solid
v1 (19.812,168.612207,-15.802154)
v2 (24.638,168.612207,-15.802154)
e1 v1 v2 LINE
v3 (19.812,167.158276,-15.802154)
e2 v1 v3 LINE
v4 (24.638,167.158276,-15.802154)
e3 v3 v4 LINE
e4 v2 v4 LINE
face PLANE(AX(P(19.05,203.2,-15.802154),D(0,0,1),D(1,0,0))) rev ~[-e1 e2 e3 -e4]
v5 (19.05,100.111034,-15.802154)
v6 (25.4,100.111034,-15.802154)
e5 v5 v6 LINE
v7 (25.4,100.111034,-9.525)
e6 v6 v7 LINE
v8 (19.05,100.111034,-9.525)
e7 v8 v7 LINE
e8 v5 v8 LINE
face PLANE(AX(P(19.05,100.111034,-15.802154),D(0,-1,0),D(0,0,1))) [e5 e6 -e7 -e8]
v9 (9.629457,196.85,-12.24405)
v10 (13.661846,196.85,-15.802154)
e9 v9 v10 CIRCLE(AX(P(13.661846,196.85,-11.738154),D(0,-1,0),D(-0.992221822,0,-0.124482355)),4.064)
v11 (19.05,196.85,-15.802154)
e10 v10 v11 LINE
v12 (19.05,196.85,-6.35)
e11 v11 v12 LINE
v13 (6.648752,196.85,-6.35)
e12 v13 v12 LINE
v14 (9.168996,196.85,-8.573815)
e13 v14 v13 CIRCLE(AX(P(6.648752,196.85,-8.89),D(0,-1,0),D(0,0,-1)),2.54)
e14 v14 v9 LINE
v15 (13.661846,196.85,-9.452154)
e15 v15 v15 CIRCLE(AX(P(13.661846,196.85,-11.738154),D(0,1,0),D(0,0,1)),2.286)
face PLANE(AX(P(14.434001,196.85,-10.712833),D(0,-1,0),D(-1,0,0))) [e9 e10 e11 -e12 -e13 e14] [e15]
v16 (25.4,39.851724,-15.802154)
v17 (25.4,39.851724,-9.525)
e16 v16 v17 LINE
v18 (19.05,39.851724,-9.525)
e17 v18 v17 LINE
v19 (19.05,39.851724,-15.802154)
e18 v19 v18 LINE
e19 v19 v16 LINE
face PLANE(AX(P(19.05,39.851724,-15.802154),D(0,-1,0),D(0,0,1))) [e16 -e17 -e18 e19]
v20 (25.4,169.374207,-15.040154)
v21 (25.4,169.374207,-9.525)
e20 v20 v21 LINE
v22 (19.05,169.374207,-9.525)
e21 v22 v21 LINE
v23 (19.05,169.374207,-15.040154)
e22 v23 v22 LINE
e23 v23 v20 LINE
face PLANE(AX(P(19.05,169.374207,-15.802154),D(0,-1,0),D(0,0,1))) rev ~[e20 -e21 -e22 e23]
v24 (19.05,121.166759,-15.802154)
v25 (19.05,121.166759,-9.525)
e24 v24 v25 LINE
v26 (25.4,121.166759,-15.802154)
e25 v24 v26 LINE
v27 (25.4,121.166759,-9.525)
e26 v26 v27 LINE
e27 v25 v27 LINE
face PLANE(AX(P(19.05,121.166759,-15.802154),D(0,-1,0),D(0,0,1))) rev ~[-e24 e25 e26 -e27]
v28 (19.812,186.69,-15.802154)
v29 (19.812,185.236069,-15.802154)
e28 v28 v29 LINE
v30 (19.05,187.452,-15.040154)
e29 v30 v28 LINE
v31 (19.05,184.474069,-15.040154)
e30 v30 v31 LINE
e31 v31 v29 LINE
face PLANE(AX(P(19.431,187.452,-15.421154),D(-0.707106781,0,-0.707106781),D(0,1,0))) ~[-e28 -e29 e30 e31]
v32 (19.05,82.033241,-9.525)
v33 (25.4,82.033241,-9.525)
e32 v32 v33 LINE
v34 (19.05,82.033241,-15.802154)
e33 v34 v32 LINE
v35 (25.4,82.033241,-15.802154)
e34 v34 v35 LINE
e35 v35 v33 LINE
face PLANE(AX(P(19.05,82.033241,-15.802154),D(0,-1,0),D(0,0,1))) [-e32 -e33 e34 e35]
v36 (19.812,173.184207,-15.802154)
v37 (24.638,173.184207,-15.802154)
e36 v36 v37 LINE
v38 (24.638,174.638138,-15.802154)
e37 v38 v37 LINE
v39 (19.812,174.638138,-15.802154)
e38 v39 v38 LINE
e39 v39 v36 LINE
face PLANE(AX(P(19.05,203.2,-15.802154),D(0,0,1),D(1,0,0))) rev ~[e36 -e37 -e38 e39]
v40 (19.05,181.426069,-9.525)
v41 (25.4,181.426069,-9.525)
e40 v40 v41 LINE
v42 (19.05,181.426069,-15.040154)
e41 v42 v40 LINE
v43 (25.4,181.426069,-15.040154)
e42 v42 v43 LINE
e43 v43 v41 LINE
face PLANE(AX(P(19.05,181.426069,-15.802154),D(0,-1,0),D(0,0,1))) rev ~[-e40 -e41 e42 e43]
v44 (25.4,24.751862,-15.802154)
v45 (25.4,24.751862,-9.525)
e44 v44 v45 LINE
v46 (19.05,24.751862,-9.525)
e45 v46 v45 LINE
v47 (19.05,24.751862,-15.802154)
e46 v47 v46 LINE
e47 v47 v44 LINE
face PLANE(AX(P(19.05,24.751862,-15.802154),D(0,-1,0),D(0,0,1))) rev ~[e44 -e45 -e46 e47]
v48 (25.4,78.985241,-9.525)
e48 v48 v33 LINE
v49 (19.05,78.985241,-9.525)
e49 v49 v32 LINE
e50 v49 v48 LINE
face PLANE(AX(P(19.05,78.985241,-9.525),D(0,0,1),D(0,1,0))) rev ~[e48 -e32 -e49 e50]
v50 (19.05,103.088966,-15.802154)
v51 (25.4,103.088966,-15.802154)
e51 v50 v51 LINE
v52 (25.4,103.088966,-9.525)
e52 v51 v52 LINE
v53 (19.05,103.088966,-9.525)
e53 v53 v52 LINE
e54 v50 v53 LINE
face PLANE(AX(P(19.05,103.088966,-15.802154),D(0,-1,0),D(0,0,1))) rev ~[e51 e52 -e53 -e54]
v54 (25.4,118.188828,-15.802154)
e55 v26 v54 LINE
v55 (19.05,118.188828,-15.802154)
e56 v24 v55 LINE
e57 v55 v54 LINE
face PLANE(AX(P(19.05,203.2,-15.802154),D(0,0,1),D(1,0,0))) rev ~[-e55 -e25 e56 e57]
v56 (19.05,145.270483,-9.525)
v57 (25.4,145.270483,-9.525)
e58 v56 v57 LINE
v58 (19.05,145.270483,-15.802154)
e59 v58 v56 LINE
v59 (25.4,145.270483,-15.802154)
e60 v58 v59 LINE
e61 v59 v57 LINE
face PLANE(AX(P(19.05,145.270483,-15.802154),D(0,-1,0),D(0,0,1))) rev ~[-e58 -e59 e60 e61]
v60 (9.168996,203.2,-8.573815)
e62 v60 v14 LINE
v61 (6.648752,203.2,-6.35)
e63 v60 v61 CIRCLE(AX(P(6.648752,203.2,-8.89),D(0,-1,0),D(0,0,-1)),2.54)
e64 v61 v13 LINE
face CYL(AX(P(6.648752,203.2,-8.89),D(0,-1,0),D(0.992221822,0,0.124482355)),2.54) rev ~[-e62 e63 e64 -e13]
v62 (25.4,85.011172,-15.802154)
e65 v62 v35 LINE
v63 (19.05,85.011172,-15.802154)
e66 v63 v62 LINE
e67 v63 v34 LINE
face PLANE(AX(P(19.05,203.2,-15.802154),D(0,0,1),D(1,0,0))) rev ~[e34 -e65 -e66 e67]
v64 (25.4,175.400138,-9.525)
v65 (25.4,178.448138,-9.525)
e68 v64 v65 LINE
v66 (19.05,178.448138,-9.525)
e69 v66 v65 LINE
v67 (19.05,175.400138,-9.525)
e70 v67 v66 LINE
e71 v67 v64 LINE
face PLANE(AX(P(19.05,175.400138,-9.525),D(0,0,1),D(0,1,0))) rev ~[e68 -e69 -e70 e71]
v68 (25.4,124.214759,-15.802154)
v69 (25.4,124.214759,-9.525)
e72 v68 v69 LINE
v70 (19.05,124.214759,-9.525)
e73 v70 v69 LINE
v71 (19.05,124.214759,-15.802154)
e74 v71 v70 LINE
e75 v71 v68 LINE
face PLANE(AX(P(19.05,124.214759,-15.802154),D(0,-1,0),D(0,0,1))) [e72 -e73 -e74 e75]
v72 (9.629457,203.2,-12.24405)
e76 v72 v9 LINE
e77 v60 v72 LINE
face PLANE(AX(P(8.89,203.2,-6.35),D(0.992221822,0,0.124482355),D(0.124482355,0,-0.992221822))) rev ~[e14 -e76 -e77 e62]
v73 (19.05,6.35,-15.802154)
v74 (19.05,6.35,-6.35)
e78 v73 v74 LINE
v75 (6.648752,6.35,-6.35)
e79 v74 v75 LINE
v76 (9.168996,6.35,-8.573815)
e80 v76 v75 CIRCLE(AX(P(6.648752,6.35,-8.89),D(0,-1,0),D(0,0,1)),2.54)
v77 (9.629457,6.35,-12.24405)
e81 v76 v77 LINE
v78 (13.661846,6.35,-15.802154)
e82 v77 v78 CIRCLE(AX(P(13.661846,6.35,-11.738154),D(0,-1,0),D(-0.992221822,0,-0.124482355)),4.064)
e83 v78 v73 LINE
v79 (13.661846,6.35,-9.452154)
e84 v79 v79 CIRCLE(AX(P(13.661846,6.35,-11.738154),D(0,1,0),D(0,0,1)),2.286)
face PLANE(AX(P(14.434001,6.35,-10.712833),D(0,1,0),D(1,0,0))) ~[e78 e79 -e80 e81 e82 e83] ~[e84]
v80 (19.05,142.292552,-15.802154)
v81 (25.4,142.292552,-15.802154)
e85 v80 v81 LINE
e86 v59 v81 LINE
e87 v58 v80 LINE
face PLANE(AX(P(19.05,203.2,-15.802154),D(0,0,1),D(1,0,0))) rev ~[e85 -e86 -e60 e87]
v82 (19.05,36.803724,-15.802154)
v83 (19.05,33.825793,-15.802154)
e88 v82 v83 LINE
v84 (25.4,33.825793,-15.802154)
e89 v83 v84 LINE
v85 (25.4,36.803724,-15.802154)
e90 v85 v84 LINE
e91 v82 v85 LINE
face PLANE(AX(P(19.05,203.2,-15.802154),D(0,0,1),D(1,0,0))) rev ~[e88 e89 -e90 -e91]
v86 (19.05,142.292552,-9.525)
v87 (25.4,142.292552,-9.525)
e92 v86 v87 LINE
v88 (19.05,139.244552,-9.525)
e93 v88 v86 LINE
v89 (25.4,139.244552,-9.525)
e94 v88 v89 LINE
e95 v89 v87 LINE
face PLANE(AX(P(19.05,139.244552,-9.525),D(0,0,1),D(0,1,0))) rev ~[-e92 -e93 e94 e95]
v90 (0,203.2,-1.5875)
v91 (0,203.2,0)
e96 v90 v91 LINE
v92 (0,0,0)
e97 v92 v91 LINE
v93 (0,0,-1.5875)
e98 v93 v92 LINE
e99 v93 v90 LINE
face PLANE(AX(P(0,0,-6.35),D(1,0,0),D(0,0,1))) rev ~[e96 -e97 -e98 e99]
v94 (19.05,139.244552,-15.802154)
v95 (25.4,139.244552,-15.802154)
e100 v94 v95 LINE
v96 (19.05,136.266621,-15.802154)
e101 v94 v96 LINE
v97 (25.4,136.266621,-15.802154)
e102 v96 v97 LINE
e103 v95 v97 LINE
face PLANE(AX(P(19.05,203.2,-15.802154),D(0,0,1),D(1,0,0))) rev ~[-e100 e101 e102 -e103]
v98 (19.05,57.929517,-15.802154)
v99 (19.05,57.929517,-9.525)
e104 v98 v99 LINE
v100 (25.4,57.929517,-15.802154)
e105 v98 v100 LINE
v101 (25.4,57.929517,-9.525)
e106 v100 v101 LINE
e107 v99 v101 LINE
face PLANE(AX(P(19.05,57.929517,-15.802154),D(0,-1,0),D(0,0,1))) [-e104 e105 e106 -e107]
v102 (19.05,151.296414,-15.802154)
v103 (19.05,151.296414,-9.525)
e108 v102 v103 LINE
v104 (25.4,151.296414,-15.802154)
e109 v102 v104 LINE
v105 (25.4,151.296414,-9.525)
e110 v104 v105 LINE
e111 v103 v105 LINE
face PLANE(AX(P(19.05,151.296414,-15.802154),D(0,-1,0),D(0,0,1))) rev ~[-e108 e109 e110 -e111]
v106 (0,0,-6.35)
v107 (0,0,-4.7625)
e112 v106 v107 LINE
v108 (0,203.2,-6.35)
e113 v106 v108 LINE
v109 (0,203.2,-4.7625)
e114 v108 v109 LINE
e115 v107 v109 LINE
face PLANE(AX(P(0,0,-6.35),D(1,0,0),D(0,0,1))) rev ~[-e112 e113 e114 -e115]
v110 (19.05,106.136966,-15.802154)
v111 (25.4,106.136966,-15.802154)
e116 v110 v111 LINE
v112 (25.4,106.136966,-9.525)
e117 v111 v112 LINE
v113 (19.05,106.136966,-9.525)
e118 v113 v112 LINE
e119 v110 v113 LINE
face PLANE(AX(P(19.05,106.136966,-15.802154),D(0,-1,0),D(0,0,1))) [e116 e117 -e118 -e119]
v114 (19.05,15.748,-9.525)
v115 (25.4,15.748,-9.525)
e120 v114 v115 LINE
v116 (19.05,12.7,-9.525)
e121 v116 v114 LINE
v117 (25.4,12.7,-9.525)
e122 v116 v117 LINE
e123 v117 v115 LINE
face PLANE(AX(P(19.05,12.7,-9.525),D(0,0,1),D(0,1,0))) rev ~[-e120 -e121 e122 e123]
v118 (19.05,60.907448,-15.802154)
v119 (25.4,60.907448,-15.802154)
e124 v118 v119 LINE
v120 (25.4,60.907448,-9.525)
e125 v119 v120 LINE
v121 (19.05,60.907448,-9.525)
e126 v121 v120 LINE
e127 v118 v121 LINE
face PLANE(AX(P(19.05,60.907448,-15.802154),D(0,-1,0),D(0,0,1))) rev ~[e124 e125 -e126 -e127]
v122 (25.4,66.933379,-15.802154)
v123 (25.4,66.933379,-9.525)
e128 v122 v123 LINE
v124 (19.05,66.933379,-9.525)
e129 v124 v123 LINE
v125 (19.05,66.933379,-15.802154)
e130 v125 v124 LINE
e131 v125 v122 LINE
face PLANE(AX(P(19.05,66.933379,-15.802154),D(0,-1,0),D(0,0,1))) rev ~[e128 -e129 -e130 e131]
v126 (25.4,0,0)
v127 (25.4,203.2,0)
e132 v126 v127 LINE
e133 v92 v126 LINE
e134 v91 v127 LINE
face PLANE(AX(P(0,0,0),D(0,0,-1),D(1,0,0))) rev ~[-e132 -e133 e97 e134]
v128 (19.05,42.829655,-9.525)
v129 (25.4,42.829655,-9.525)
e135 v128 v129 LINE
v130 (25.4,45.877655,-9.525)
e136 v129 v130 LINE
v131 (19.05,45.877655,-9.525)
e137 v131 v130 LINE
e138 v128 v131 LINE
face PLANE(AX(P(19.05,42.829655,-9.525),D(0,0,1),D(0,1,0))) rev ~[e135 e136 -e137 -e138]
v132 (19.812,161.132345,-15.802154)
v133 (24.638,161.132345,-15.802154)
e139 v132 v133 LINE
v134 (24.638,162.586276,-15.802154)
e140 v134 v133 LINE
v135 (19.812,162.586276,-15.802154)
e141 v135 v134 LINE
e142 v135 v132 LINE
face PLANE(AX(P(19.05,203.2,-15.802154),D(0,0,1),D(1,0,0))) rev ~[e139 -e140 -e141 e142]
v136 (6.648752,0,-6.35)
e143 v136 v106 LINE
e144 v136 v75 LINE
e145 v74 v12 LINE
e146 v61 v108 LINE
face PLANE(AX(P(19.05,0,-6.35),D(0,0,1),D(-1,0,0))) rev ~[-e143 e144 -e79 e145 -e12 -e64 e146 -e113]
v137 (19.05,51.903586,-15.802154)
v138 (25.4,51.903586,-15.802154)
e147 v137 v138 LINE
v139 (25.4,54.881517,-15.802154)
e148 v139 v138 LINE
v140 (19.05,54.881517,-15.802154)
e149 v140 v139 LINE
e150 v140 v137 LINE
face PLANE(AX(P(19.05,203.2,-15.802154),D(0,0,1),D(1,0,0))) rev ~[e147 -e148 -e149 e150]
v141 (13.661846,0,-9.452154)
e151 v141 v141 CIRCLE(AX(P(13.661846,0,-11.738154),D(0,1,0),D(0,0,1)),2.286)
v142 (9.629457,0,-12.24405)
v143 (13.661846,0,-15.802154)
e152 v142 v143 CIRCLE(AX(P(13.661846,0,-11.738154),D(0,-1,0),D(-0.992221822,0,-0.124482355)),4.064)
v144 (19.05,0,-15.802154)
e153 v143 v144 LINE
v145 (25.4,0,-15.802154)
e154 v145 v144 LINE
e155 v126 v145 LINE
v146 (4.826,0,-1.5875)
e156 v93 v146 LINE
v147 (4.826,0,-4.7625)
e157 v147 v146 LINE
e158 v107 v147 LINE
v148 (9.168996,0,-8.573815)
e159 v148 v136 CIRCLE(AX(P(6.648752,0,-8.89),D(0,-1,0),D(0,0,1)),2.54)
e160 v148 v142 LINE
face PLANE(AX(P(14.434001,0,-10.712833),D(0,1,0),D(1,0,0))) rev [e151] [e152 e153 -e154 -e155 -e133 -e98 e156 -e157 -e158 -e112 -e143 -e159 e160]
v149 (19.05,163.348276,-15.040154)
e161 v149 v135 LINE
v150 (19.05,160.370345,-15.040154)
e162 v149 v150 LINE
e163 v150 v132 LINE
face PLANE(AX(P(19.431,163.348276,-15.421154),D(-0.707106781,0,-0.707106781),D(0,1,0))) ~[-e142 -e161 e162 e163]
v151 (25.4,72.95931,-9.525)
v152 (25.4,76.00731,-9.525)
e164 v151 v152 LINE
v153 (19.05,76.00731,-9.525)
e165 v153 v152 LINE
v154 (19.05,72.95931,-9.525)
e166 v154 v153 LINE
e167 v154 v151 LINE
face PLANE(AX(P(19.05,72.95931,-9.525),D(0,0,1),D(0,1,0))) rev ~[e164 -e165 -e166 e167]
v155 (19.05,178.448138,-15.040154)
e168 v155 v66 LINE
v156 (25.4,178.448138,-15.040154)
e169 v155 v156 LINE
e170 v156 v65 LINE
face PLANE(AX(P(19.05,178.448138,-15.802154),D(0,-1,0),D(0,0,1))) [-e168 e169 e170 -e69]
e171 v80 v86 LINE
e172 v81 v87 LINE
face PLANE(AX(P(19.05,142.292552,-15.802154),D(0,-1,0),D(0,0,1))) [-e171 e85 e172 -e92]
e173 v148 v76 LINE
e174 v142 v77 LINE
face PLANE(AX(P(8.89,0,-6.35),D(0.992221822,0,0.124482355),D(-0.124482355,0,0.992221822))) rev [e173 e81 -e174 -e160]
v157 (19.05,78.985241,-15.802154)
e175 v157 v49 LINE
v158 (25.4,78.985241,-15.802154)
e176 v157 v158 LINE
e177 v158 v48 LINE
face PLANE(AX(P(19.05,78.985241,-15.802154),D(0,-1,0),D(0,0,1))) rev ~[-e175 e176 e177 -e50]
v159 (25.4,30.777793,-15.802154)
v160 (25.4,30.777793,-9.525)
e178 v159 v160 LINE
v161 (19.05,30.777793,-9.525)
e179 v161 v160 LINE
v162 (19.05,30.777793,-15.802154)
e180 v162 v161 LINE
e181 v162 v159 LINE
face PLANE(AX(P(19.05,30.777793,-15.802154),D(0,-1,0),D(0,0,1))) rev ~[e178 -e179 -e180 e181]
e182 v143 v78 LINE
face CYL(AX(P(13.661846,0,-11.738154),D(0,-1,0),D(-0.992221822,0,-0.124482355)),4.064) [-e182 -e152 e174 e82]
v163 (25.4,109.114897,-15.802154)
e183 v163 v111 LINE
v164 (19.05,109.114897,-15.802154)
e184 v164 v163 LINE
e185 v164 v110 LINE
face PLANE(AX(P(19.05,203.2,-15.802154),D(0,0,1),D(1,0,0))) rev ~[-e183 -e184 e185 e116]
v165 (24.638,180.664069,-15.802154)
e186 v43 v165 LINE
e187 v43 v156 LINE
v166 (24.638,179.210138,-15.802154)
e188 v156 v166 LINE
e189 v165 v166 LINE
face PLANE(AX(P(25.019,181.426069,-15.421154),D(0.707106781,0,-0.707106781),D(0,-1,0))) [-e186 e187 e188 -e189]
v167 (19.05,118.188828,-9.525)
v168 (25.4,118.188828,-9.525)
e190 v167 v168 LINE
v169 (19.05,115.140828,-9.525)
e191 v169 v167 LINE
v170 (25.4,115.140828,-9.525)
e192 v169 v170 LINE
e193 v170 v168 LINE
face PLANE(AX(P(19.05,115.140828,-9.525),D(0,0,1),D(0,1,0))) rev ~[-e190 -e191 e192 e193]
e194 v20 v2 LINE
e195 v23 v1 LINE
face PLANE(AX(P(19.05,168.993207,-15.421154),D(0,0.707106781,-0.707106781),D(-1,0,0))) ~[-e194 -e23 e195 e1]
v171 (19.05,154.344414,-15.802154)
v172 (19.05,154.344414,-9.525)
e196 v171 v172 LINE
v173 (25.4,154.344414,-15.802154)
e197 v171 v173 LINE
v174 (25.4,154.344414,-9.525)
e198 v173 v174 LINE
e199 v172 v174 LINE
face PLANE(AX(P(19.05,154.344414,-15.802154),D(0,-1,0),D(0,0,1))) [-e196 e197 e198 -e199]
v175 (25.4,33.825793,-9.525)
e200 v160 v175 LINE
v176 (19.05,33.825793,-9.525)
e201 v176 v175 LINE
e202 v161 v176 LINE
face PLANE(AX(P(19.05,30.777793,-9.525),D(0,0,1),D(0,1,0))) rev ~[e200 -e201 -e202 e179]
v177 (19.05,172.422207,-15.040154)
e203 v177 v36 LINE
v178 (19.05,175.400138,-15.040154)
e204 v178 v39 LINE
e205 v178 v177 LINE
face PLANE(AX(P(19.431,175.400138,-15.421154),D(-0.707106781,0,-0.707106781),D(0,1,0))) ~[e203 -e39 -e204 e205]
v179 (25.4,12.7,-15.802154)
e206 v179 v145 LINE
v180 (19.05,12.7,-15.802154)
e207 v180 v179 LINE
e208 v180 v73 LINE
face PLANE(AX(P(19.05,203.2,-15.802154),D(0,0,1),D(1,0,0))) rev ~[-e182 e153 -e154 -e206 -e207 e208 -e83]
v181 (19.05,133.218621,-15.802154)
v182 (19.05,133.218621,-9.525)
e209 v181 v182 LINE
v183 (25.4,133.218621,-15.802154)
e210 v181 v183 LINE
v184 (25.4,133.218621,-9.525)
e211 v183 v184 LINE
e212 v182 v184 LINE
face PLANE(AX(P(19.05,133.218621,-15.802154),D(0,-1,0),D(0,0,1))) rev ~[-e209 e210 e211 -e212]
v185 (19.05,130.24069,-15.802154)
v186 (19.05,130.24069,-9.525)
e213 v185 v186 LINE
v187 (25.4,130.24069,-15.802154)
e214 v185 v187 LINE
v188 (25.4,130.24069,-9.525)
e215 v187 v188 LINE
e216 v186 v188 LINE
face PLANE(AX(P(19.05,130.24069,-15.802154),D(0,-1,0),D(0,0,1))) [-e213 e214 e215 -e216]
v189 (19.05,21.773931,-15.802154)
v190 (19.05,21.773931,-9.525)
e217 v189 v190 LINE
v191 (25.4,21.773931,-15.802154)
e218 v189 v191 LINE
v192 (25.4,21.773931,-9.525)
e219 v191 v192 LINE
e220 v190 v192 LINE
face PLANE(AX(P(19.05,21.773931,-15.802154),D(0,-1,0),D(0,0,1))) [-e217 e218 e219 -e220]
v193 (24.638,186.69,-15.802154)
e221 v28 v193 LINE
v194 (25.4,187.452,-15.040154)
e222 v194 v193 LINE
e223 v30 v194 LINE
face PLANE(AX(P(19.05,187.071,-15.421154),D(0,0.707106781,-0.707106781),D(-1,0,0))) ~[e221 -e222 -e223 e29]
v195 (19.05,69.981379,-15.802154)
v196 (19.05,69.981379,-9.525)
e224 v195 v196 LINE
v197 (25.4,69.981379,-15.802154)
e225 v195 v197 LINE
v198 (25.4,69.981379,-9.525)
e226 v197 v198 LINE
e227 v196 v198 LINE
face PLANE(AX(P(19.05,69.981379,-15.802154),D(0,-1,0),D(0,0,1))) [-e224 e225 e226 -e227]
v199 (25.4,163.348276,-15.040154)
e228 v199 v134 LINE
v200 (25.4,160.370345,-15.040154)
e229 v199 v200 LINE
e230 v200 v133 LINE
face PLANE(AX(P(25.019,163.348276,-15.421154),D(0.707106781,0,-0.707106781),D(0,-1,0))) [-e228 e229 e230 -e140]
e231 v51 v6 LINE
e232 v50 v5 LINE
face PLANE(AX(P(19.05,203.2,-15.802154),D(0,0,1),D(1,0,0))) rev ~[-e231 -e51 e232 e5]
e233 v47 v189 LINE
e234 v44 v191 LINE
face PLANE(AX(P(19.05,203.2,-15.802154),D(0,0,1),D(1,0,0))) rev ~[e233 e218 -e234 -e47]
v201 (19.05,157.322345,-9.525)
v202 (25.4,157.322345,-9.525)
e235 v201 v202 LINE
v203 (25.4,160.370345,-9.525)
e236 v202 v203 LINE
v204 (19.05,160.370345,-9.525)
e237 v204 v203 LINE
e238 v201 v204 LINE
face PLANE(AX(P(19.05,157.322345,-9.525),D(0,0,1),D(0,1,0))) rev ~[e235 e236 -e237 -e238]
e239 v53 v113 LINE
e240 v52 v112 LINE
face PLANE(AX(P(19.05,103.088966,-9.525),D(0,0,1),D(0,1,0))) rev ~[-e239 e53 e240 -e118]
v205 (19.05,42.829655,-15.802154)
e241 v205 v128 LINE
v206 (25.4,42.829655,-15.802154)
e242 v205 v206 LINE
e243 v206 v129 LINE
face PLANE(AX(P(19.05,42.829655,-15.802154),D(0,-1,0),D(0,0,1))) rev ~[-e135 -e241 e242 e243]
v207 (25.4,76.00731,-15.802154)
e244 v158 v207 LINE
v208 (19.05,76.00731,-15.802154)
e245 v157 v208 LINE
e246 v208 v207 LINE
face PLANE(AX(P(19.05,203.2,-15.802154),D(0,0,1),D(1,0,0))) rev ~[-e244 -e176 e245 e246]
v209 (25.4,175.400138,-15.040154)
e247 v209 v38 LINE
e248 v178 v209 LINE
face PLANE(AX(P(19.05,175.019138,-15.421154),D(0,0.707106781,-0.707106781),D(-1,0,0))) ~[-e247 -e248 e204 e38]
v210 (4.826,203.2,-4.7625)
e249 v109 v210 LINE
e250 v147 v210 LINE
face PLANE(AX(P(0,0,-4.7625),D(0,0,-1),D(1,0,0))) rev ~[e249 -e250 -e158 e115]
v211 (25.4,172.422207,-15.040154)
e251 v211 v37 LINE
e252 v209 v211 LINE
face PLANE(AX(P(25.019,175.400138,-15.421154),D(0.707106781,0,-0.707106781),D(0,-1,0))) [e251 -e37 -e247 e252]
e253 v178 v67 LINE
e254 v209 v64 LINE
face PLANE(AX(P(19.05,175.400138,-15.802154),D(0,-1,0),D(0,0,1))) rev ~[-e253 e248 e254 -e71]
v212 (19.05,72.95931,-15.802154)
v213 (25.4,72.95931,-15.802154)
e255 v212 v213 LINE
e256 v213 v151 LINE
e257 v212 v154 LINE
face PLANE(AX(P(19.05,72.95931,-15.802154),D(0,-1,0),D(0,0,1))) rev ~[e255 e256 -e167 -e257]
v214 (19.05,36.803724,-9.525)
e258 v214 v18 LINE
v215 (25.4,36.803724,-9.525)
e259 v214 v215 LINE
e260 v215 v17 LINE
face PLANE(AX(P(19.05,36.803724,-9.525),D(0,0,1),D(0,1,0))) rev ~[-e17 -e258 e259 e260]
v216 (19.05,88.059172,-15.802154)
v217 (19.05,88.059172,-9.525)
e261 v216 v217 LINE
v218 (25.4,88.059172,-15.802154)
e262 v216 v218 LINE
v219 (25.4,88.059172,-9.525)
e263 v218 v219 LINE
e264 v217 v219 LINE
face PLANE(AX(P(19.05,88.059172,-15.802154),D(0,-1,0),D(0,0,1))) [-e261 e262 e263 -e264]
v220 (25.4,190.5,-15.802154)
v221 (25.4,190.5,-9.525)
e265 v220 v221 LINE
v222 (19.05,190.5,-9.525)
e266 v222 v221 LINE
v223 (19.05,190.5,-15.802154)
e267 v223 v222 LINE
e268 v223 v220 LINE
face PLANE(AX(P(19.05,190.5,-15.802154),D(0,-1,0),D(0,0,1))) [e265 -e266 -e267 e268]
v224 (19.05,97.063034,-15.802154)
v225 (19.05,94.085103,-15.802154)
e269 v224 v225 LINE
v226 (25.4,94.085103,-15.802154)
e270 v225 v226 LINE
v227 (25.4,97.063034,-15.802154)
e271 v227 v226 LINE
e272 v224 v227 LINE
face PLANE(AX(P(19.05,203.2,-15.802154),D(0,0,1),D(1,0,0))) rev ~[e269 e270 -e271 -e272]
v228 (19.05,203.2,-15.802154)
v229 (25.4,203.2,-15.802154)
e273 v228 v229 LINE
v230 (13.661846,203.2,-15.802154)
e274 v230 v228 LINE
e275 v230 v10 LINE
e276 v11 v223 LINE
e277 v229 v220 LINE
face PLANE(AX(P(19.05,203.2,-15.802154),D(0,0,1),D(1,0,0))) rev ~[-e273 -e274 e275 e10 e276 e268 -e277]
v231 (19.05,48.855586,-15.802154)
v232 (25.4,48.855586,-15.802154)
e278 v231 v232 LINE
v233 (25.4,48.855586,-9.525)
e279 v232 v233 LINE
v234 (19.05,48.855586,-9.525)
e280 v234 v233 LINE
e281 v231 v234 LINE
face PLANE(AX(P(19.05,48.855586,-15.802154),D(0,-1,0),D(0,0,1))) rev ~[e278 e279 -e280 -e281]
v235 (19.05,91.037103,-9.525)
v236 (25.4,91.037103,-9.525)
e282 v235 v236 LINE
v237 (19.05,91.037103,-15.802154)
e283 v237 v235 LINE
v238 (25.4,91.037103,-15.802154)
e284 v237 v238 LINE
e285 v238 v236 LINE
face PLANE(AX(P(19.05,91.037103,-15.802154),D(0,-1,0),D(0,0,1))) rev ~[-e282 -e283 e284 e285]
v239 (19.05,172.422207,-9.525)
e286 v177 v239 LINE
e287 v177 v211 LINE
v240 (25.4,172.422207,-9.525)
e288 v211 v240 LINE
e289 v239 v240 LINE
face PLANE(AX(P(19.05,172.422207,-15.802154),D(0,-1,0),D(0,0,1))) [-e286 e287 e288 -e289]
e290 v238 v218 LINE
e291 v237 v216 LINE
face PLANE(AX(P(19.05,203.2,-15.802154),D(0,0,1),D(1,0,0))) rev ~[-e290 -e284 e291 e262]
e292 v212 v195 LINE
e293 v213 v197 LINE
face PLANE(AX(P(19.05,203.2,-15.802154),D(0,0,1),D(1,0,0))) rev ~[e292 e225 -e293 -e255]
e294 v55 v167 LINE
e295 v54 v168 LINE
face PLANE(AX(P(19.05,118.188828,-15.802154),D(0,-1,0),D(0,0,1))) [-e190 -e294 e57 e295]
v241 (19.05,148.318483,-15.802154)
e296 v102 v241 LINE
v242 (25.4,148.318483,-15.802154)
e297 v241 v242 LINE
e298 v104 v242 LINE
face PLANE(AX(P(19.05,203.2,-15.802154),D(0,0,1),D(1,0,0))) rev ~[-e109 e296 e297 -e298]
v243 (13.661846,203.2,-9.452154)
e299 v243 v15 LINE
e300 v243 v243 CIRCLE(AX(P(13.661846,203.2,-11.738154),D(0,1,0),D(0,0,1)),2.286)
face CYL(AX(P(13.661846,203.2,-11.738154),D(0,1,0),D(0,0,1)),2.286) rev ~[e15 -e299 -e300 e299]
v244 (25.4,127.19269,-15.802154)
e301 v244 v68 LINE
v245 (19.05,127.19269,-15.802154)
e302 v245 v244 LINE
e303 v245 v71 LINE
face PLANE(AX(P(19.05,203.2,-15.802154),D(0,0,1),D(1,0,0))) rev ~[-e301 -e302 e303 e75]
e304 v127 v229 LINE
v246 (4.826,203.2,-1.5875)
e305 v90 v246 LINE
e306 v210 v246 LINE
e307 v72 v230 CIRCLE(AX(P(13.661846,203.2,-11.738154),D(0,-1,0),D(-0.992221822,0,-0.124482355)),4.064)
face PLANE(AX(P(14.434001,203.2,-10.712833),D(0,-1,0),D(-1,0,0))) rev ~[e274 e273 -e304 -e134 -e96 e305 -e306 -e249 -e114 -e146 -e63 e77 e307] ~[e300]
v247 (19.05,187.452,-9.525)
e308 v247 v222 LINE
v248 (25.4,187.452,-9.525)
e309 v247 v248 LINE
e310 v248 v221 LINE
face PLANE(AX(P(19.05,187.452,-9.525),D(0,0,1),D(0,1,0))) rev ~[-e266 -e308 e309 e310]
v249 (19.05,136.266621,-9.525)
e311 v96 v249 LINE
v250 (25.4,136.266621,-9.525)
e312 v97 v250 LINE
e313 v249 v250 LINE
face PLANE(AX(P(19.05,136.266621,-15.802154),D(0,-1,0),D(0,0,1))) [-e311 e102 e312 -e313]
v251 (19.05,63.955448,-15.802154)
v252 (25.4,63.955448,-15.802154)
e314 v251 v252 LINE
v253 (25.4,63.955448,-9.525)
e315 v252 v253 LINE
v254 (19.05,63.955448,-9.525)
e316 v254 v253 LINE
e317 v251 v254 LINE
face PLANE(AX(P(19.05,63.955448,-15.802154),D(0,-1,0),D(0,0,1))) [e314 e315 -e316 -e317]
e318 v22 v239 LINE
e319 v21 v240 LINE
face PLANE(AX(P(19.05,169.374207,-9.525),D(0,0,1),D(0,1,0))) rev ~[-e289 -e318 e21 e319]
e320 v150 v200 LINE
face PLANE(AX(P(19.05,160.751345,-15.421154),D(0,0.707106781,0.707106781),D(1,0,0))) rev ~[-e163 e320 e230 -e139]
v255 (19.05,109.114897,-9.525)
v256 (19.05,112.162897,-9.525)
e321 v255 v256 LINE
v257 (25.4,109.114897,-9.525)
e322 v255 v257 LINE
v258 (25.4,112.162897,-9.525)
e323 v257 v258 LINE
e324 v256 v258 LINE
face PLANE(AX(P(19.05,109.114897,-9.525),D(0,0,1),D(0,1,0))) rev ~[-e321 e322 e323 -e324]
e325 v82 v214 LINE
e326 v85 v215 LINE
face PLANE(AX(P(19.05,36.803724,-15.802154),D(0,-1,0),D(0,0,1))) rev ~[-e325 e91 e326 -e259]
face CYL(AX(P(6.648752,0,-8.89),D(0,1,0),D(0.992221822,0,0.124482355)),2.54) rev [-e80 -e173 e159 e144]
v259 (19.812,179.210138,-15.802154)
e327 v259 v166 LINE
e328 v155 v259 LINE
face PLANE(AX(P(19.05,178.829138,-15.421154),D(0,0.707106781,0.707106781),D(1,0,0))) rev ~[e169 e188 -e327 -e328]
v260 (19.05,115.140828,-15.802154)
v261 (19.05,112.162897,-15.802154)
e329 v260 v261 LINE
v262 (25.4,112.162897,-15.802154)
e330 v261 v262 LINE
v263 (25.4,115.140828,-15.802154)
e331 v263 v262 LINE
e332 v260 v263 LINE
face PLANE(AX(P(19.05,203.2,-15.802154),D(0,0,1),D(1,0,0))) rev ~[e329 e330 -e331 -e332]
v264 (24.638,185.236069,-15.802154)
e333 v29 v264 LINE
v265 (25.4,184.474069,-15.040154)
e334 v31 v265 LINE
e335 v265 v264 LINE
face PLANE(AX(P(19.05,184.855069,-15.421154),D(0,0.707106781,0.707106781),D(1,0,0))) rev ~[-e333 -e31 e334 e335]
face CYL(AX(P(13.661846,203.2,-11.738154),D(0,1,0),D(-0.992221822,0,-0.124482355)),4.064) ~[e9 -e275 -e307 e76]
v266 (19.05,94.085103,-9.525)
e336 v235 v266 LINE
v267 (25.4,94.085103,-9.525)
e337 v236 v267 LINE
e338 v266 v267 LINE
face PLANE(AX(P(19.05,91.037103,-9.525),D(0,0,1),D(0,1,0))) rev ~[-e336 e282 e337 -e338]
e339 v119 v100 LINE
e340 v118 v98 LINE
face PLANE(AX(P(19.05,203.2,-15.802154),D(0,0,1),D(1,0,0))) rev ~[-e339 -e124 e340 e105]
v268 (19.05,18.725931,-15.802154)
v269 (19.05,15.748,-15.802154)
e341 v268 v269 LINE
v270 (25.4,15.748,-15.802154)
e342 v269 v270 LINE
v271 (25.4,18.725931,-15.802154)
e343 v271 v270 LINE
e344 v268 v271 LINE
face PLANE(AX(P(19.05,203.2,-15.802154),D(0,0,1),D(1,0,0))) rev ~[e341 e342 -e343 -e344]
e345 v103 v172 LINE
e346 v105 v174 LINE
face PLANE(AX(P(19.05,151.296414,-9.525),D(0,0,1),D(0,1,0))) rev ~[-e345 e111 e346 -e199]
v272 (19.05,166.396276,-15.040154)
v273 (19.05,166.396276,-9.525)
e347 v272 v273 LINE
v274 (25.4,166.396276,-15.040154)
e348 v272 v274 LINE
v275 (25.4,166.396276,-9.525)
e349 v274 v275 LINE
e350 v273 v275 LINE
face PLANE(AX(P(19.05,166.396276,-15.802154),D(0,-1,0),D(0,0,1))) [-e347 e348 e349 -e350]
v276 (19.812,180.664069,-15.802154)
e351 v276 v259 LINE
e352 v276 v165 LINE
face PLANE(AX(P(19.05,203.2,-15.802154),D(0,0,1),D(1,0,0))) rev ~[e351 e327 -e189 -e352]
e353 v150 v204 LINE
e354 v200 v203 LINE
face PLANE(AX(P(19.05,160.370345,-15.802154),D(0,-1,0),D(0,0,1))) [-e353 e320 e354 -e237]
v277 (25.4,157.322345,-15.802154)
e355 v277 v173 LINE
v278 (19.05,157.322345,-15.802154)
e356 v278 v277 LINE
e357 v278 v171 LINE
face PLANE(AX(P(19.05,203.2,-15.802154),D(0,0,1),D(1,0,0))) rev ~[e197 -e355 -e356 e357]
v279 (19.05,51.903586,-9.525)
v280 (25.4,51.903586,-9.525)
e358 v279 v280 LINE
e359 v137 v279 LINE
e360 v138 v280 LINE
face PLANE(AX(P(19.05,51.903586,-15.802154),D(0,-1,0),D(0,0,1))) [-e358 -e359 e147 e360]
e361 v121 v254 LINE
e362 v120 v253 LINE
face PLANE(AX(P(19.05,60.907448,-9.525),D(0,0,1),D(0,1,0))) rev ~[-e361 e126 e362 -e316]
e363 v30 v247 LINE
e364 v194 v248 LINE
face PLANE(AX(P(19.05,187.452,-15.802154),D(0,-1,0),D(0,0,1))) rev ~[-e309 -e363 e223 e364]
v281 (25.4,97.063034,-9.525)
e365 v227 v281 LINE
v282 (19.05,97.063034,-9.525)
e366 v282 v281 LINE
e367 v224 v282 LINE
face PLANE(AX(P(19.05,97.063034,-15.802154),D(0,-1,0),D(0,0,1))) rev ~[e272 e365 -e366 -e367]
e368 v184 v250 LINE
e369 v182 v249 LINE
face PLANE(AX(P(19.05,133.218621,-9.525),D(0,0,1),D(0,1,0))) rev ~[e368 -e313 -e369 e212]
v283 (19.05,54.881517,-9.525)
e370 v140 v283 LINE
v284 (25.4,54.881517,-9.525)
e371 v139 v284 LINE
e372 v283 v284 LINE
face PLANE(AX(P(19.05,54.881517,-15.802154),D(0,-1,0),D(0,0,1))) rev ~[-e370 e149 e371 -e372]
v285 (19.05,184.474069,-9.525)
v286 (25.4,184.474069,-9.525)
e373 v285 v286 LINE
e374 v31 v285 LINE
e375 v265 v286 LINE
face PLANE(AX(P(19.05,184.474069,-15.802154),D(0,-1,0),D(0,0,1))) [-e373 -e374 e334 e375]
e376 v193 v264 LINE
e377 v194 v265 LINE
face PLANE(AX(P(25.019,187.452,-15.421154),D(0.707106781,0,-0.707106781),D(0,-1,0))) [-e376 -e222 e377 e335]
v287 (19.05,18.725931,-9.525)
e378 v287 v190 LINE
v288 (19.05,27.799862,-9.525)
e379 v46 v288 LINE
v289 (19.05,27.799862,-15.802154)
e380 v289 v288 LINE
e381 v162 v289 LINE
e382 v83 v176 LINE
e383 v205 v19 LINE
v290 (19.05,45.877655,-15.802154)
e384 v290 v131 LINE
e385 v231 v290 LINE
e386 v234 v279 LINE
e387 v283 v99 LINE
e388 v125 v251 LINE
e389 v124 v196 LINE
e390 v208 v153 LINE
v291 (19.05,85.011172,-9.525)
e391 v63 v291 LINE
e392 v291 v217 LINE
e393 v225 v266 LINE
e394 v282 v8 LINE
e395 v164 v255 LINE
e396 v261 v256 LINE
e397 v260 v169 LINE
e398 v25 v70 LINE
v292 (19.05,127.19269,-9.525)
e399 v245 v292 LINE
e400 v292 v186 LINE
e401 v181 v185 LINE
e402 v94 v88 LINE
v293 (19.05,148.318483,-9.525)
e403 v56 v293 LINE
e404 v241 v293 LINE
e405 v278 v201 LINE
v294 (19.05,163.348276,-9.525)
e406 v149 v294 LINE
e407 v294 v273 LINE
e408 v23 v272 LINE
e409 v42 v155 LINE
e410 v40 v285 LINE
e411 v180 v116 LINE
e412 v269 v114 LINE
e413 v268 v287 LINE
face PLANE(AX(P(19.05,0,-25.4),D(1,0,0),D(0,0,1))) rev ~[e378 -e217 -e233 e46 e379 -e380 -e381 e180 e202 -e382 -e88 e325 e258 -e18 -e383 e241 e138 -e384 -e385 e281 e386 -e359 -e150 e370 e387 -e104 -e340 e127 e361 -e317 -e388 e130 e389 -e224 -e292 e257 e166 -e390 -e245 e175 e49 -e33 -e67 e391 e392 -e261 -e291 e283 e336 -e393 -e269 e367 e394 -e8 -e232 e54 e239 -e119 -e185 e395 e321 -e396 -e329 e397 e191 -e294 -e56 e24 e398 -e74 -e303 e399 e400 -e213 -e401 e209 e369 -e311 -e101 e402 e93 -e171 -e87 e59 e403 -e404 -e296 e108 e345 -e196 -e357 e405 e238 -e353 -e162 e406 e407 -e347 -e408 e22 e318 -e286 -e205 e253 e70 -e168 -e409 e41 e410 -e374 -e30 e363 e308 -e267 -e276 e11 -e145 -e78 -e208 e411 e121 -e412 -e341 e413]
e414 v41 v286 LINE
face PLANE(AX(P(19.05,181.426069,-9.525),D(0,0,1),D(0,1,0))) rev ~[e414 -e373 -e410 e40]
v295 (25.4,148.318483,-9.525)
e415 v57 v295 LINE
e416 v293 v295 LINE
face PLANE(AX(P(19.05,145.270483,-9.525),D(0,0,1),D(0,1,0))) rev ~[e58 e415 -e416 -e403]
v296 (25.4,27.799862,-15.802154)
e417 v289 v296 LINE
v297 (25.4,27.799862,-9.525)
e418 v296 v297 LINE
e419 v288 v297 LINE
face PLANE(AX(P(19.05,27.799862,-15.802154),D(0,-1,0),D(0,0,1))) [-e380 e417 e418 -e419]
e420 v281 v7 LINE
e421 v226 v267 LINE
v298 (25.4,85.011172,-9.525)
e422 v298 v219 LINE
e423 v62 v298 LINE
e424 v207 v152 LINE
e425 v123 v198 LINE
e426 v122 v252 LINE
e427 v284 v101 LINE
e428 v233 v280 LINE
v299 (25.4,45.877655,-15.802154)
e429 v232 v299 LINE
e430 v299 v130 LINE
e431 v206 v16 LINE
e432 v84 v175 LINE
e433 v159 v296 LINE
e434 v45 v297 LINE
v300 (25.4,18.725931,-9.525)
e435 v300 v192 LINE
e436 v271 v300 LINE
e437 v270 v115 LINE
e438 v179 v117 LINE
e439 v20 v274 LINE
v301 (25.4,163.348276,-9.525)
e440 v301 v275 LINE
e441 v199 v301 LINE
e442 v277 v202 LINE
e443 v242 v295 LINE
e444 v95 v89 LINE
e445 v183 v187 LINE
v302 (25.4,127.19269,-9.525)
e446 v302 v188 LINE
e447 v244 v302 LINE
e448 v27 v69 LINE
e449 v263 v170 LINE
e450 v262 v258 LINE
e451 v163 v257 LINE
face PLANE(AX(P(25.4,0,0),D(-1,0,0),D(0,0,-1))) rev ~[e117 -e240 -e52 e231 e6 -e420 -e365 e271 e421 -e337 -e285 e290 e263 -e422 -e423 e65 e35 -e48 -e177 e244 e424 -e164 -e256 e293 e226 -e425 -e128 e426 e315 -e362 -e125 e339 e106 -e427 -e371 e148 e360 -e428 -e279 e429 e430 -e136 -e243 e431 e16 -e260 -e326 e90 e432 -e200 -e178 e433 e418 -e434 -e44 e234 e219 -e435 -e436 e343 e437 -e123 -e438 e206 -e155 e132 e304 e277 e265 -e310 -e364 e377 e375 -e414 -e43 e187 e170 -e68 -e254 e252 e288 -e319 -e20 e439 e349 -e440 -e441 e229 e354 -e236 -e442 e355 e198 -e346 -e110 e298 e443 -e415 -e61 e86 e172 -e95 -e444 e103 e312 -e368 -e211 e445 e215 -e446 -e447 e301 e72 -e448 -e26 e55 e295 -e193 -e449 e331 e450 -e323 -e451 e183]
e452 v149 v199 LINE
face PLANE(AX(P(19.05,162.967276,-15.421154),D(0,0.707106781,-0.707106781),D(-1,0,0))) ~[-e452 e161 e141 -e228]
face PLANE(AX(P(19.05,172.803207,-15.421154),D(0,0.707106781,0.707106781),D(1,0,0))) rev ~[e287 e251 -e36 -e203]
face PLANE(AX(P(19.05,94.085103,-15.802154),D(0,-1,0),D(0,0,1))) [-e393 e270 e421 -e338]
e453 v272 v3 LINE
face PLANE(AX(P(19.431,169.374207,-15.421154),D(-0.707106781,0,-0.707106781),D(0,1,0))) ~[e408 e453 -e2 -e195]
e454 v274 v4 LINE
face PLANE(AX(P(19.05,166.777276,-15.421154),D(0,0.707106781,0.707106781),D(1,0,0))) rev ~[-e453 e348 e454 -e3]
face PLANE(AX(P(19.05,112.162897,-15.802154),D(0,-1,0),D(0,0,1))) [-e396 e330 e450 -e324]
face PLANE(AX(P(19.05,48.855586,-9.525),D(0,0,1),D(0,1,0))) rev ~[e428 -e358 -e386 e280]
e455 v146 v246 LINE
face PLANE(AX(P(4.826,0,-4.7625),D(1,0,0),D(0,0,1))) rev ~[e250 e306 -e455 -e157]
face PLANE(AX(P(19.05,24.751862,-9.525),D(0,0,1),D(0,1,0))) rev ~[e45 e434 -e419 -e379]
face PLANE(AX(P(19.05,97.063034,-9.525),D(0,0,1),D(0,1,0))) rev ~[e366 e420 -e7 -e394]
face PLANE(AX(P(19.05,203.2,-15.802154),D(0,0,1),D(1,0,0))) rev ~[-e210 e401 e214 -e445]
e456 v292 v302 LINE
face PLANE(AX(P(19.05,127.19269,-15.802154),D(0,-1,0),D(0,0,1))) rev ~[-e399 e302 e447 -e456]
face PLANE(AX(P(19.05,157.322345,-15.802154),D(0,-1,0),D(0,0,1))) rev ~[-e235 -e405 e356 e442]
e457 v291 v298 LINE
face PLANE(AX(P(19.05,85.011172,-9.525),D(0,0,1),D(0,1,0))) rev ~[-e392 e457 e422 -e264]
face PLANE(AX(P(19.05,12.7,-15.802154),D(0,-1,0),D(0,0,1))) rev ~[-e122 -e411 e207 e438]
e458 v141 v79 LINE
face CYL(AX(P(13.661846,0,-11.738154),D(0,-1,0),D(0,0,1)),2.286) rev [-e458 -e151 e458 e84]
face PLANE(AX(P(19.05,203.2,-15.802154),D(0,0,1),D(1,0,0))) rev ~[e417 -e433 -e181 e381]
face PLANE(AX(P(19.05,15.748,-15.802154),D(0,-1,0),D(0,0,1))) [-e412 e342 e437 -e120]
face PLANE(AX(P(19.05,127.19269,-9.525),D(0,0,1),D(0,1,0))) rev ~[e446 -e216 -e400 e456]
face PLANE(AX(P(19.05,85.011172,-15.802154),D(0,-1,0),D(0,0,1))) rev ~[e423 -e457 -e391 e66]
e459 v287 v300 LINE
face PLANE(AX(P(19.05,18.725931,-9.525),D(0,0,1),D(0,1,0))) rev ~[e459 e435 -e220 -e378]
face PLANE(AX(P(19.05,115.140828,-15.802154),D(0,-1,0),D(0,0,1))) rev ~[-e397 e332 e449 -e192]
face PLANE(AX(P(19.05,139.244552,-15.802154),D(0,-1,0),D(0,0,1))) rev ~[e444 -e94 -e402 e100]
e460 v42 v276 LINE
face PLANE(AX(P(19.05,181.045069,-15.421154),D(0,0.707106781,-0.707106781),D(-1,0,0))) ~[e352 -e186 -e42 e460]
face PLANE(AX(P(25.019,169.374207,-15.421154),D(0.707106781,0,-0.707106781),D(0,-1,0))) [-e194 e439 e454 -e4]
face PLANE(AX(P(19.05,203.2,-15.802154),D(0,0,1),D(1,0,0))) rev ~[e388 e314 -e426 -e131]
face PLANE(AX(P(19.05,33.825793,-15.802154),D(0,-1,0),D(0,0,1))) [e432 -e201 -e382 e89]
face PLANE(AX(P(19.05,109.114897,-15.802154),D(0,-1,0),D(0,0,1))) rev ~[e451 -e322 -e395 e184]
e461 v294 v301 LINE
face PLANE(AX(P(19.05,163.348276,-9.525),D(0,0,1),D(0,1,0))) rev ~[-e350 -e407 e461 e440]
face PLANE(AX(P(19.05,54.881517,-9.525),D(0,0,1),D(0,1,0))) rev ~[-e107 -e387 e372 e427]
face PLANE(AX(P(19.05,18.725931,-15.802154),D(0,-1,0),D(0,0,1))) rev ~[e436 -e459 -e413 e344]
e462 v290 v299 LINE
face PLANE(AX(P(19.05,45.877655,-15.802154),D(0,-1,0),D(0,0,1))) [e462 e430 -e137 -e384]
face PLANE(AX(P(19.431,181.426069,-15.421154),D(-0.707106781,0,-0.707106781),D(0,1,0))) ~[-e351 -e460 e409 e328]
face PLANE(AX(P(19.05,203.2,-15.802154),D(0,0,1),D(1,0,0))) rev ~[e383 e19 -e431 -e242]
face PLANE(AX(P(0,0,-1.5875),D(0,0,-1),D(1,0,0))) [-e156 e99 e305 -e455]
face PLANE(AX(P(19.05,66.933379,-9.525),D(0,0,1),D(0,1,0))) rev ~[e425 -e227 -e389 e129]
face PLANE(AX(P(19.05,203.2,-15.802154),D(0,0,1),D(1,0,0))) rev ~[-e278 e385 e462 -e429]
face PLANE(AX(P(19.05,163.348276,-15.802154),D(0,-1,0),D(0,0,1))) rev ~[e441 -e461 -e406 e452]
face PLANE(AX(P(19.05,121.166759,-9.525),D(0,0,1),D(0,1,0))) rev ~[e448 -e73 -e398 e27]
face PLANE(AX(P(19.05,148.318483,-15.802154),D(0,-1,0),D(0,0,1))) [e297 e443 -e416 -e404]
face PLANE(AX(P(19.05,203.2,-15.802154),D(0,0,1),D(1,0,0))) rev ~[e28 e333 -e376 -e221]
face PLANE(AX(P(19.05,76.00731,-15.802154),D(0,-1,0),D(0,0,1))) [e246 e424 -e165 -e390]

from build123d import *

# Parameters (mm, degrees)
BOSS_EXTRUDE1_DEPTH  = 203.2
SKETCH2_R            = 2.286
BOSS_EXTRUDE2_DEPTH  = 6.35
FILLET1_R            = 2.54
FILLET1_OF_MIRROR1_R = 2.54
SKETCH5_W            = 6.35
SKETCH5_H            = 9.597846327
CUT_EXTRUDE3_DEPTH   = 207.350575478
SKETCH3_W            = 6.277153673
SKETCH3_H            = 3.048
CUT_EXTRUDE1_DEPTH   = 205.701857736
SKETCH4_W            = 4.826
SKETCH4_H            = 3.175
CUT_EXTRUDE2_DEPTH   = 206.39013623
CHAMFER1_SIZE        = 0.762


with BuildPart() as part:
    # Sketch1 → Boss-Extrude1 (new body)
    with BuildSketch(Plane(origin=(0, 0, 0), x_dir=(1, 0, 0), z_dir=(0, 1, 0))):
        Polygon((0, 0), (25.4, 0), (25.4, 25.4), (19.05, 25.4), (19.05, 6.35), (0, 6.35), align=None)
    extrude(amount=BOSS_EXTRUDE1_DEPTH)

    # Sketch2 → Boss-Extrude2 (add)
    with BuildSketch(Plane(origin=(0, 203.2, 0), x_dir=(1, 0, 0), z_dir=(0, 1, 0))):
        with BuildLine():
            Line((19.05, 15.802153673), (19.05, 6.35))
            Line((19.05, 6.35), (8.89, 6.35))
            Line((8.89, 6.35), (9.629456844, 12.244049961))
            ThreePointArc((9.629456844, 12.244049961), (10.972967985, 14.785452355), (13.661846327, 15.802153673))
            Line((13.661846327, 15.802153673), (19.05, 15.802153673))
        make_face()
        with Locations(Location((13.661846327, 11.738153673, 0), (0, 0, 270))):
            Circle(SKETCH2_R, mode=Mode.SUBTRACT)
    boss_extrude2 = extrude(amount=-BOSS_EXTRUDE2_DEPTH)

    # Fillet1
    fillet1_edges = [part.edges().sort_by_distance(p)[0] for p in [
        (8.89, 200.025, -6.35),
    ]]
    fillet(fillet1_edges, radius=FILLET1_R)

    # Mirror1: Boss-Extrude2 across plane
    add(boss_extrude2.mirror(Plane.ZX.offset(101.6)))

    # Fillet1 of Mirror1
    fillet1_of_mirror1_edges = [part.edges().sort_by_distance(p)[0] for p in [
        (8.89, 3.175, -6.35),
    ]]
    fillet(fillet1_of_mirror1_edges, radius=FILLET1_OF_MIRROR1_R)

    # Sketch5 → Cut-Extrude3 (cut, through all)
    with BuildSketch(Plane(origin=(0, 203.2, 0), x_dir=(1, 0, 0), z_dir=(0, 1, 0))):
        with Locations((22.225, 20.601076837)):
            Rectangle(SKETCH5_W, SKETCH5_H)
    extrude(amount=-CUT_EXTRUDE3_DEPTH, mode=Mode.SUBTRACT)

    # Sketch3 → Cut-Extrude1 (cut, through all)
    with BuildSketch(Plane.ZY.offset(-19.05)):
        with Locations((-12.663576837, 188.976)):
            Rectangle(SKETCH3_W, SKETCH3_H)
        with Locations((-12.663576837, 182.950068966)):
            Rectangle(SKETCH3_W, SKETCH3_H)
        with Locations((-12.663576837, 176.924137931)):
            Rectangle(SKETCH3_W, SKETCH3_H)
        with Locations((-12.663576837, 170.898206897)):
            Rectangle(SKETCH3_W, SKETCH3_H)
        with Locations((-12.663576837, 164.872275862)):
            Rectangle(SKETCH3_W, SKETCH3_H)
        with Locations((-12.663576837, 158.846344828)):
            Rectangle(SKETCH3_W, SKETCH3_H)
        with Locations((-12.663576837, 152.820413793)):
            Rectangle(SKETCH3_W, SKETCH3_H)
        with Locations((-12.663576837, 146.794482759)):
            Rectangle(SKETCH3_W, SKETCH3_H)
        with Locations((-12.663576837, 140.768551724)):
            Rectangle(SKETCH3_W, SKETCH3_H)
        with Locations((-12.663576837, 134.74262069)):
            Rectangle(SKETCH3_W, SKETCH3_H)
        with Locations((-12.663576837, 128.716689655)):
            Rectangle(SKETCH3_W, SKETCH3_H)
        with Locations((-12.663576837, 122.690758621)):
            Rectangle(SKETCH3_W, SKETCH3_H)
        with Locations((-12.663576837, 116.664827586)):
            Rectangle(SKETCH3_W, SKETCH3_H)
        with Locations((-12.663576837, 110.638896552)):
            Rectangle(SKETCH3_W, SKETCH3_H)
        with Locations((-12.663576837, 104.612965517)):
            Rectangle(SKETCH3_W, SKETCH3_H)
        with Locations((-12.663576837, 98.587034483)):
            Rectangle(SKETCH3_W, SKETCH3_H)
        with Locations((-12.663576837, 92.561103448)):
            Rectangle(SKETCH3_W, SKETCH3_H)
        with Locations((-12.663576837, 86.535172414)):
            Rectangle(SKETCH3_W, SKETCH3_H)
        with Locations((-12.663576837, 80.509241379)):
            Rectangle(SKETCH3_W, SKETCH3_H)
        with Locations((-12.663576837, 74.483310345)):
            Rectangle(SKETCH3_W, SKETCH3_H)
        with Locations((-12.663576837, 68.45737931)):
            Rectangle(SKETCH3_W, SKETCH3_H)
        with Locations((-12.663576837, 62.431448276)):
            Rectangle(SKETCH3_W, SKETCH3_H)
        with Locations((-12.663576837, 56.405517241)):
            Rectangle(SKETCH3_W, SKETCH3_H)
        with Locations((-12.663576837, 50.379586207)):
            Rectangle(SKETCH3_W, SKETCH3_H)
        with Locations((-12.663576837, 44.353655172)):
            Rectangle(SKETCH3_W, SKETCH3_H)
        with Locations((-12.663576837, 38.327724138)):
            Rectangle(SKETCH3_W, SKETCH3_H)
        with Locations((-12.663576837, 32.301793103)):
            Rectangle(SKETCH3_W, SKETCH3_H)
        with Locations((-12.663576837, 26.275862069)):
            Rectangle(SKETCH3_W, SKETCH3_H)
        with Locations((-12.663576837, 20.249931034)):
            Rectangle(SKETCH3_W, SKETCH3_H)
        with Locations((-12.663576837, 14.224)):
            Rectangle(SKETCH3_W, SKETCH3_H)
    extrude(amount=-CUT_EXTRUDE1_DEPTH, mode=Mode.SUBTRACT)

    # Sketch4 → Cut-Extrude2 (cut, through all)
    with BuildSketch(Plane.XZ):
        with Locations((2.413, -3.175)):
            Rectangle(SKETCH4_W, SKETCH4_H)
    extrude(amount=-CUT_EXTRUDE2_DEPTH, mode=Mode.SUBTRACT)

    # Chamfer1
    chamfer1_edges = [part.edges().sort_by_distance(p)[0] for p in [
        (25.4, 161.859310345, -15.802153673),
        (25.4, 167.885241379, -15.802153673),
        (25.4, 173.911172414, -15.802153673),
        (25.4, 179.937103448, -15.802153673),
        (25.4, 185.963034483, -15.802153673),
        (19.05, 161.859310345, -15.802153673),
        (19.05, 167.885241379, -15.802153673),
        (19.05, 173.911172414, -15.802153673),
        (19.05, 179.937103448, -15.802153673),
        (19.05, 185.963034483, -15.802153673),
        (22.225, 187.452, -15.802153673),
        (22.225, 160.370344828, -15.802153673),
        (22.225, 166.396275862, -15.802153673),
        (22.225, 163.348275862, -15.802153673),
        (22.225, 184.474068966, -15.802153673),
        (22.225, 181.426068966, -15.802153673),
        (22.225, 178.448137931, -15.802153673),
        (22.225, 175.400137931, -15.802153673),
        (22.225, 172.422206897, -15.802153673),
        (22.225, 169.374206897, -15.802153673),
    ]]
    chamfer(chamfer1_edges, length=CHAMFER1_SIZE)


solid = part.part
